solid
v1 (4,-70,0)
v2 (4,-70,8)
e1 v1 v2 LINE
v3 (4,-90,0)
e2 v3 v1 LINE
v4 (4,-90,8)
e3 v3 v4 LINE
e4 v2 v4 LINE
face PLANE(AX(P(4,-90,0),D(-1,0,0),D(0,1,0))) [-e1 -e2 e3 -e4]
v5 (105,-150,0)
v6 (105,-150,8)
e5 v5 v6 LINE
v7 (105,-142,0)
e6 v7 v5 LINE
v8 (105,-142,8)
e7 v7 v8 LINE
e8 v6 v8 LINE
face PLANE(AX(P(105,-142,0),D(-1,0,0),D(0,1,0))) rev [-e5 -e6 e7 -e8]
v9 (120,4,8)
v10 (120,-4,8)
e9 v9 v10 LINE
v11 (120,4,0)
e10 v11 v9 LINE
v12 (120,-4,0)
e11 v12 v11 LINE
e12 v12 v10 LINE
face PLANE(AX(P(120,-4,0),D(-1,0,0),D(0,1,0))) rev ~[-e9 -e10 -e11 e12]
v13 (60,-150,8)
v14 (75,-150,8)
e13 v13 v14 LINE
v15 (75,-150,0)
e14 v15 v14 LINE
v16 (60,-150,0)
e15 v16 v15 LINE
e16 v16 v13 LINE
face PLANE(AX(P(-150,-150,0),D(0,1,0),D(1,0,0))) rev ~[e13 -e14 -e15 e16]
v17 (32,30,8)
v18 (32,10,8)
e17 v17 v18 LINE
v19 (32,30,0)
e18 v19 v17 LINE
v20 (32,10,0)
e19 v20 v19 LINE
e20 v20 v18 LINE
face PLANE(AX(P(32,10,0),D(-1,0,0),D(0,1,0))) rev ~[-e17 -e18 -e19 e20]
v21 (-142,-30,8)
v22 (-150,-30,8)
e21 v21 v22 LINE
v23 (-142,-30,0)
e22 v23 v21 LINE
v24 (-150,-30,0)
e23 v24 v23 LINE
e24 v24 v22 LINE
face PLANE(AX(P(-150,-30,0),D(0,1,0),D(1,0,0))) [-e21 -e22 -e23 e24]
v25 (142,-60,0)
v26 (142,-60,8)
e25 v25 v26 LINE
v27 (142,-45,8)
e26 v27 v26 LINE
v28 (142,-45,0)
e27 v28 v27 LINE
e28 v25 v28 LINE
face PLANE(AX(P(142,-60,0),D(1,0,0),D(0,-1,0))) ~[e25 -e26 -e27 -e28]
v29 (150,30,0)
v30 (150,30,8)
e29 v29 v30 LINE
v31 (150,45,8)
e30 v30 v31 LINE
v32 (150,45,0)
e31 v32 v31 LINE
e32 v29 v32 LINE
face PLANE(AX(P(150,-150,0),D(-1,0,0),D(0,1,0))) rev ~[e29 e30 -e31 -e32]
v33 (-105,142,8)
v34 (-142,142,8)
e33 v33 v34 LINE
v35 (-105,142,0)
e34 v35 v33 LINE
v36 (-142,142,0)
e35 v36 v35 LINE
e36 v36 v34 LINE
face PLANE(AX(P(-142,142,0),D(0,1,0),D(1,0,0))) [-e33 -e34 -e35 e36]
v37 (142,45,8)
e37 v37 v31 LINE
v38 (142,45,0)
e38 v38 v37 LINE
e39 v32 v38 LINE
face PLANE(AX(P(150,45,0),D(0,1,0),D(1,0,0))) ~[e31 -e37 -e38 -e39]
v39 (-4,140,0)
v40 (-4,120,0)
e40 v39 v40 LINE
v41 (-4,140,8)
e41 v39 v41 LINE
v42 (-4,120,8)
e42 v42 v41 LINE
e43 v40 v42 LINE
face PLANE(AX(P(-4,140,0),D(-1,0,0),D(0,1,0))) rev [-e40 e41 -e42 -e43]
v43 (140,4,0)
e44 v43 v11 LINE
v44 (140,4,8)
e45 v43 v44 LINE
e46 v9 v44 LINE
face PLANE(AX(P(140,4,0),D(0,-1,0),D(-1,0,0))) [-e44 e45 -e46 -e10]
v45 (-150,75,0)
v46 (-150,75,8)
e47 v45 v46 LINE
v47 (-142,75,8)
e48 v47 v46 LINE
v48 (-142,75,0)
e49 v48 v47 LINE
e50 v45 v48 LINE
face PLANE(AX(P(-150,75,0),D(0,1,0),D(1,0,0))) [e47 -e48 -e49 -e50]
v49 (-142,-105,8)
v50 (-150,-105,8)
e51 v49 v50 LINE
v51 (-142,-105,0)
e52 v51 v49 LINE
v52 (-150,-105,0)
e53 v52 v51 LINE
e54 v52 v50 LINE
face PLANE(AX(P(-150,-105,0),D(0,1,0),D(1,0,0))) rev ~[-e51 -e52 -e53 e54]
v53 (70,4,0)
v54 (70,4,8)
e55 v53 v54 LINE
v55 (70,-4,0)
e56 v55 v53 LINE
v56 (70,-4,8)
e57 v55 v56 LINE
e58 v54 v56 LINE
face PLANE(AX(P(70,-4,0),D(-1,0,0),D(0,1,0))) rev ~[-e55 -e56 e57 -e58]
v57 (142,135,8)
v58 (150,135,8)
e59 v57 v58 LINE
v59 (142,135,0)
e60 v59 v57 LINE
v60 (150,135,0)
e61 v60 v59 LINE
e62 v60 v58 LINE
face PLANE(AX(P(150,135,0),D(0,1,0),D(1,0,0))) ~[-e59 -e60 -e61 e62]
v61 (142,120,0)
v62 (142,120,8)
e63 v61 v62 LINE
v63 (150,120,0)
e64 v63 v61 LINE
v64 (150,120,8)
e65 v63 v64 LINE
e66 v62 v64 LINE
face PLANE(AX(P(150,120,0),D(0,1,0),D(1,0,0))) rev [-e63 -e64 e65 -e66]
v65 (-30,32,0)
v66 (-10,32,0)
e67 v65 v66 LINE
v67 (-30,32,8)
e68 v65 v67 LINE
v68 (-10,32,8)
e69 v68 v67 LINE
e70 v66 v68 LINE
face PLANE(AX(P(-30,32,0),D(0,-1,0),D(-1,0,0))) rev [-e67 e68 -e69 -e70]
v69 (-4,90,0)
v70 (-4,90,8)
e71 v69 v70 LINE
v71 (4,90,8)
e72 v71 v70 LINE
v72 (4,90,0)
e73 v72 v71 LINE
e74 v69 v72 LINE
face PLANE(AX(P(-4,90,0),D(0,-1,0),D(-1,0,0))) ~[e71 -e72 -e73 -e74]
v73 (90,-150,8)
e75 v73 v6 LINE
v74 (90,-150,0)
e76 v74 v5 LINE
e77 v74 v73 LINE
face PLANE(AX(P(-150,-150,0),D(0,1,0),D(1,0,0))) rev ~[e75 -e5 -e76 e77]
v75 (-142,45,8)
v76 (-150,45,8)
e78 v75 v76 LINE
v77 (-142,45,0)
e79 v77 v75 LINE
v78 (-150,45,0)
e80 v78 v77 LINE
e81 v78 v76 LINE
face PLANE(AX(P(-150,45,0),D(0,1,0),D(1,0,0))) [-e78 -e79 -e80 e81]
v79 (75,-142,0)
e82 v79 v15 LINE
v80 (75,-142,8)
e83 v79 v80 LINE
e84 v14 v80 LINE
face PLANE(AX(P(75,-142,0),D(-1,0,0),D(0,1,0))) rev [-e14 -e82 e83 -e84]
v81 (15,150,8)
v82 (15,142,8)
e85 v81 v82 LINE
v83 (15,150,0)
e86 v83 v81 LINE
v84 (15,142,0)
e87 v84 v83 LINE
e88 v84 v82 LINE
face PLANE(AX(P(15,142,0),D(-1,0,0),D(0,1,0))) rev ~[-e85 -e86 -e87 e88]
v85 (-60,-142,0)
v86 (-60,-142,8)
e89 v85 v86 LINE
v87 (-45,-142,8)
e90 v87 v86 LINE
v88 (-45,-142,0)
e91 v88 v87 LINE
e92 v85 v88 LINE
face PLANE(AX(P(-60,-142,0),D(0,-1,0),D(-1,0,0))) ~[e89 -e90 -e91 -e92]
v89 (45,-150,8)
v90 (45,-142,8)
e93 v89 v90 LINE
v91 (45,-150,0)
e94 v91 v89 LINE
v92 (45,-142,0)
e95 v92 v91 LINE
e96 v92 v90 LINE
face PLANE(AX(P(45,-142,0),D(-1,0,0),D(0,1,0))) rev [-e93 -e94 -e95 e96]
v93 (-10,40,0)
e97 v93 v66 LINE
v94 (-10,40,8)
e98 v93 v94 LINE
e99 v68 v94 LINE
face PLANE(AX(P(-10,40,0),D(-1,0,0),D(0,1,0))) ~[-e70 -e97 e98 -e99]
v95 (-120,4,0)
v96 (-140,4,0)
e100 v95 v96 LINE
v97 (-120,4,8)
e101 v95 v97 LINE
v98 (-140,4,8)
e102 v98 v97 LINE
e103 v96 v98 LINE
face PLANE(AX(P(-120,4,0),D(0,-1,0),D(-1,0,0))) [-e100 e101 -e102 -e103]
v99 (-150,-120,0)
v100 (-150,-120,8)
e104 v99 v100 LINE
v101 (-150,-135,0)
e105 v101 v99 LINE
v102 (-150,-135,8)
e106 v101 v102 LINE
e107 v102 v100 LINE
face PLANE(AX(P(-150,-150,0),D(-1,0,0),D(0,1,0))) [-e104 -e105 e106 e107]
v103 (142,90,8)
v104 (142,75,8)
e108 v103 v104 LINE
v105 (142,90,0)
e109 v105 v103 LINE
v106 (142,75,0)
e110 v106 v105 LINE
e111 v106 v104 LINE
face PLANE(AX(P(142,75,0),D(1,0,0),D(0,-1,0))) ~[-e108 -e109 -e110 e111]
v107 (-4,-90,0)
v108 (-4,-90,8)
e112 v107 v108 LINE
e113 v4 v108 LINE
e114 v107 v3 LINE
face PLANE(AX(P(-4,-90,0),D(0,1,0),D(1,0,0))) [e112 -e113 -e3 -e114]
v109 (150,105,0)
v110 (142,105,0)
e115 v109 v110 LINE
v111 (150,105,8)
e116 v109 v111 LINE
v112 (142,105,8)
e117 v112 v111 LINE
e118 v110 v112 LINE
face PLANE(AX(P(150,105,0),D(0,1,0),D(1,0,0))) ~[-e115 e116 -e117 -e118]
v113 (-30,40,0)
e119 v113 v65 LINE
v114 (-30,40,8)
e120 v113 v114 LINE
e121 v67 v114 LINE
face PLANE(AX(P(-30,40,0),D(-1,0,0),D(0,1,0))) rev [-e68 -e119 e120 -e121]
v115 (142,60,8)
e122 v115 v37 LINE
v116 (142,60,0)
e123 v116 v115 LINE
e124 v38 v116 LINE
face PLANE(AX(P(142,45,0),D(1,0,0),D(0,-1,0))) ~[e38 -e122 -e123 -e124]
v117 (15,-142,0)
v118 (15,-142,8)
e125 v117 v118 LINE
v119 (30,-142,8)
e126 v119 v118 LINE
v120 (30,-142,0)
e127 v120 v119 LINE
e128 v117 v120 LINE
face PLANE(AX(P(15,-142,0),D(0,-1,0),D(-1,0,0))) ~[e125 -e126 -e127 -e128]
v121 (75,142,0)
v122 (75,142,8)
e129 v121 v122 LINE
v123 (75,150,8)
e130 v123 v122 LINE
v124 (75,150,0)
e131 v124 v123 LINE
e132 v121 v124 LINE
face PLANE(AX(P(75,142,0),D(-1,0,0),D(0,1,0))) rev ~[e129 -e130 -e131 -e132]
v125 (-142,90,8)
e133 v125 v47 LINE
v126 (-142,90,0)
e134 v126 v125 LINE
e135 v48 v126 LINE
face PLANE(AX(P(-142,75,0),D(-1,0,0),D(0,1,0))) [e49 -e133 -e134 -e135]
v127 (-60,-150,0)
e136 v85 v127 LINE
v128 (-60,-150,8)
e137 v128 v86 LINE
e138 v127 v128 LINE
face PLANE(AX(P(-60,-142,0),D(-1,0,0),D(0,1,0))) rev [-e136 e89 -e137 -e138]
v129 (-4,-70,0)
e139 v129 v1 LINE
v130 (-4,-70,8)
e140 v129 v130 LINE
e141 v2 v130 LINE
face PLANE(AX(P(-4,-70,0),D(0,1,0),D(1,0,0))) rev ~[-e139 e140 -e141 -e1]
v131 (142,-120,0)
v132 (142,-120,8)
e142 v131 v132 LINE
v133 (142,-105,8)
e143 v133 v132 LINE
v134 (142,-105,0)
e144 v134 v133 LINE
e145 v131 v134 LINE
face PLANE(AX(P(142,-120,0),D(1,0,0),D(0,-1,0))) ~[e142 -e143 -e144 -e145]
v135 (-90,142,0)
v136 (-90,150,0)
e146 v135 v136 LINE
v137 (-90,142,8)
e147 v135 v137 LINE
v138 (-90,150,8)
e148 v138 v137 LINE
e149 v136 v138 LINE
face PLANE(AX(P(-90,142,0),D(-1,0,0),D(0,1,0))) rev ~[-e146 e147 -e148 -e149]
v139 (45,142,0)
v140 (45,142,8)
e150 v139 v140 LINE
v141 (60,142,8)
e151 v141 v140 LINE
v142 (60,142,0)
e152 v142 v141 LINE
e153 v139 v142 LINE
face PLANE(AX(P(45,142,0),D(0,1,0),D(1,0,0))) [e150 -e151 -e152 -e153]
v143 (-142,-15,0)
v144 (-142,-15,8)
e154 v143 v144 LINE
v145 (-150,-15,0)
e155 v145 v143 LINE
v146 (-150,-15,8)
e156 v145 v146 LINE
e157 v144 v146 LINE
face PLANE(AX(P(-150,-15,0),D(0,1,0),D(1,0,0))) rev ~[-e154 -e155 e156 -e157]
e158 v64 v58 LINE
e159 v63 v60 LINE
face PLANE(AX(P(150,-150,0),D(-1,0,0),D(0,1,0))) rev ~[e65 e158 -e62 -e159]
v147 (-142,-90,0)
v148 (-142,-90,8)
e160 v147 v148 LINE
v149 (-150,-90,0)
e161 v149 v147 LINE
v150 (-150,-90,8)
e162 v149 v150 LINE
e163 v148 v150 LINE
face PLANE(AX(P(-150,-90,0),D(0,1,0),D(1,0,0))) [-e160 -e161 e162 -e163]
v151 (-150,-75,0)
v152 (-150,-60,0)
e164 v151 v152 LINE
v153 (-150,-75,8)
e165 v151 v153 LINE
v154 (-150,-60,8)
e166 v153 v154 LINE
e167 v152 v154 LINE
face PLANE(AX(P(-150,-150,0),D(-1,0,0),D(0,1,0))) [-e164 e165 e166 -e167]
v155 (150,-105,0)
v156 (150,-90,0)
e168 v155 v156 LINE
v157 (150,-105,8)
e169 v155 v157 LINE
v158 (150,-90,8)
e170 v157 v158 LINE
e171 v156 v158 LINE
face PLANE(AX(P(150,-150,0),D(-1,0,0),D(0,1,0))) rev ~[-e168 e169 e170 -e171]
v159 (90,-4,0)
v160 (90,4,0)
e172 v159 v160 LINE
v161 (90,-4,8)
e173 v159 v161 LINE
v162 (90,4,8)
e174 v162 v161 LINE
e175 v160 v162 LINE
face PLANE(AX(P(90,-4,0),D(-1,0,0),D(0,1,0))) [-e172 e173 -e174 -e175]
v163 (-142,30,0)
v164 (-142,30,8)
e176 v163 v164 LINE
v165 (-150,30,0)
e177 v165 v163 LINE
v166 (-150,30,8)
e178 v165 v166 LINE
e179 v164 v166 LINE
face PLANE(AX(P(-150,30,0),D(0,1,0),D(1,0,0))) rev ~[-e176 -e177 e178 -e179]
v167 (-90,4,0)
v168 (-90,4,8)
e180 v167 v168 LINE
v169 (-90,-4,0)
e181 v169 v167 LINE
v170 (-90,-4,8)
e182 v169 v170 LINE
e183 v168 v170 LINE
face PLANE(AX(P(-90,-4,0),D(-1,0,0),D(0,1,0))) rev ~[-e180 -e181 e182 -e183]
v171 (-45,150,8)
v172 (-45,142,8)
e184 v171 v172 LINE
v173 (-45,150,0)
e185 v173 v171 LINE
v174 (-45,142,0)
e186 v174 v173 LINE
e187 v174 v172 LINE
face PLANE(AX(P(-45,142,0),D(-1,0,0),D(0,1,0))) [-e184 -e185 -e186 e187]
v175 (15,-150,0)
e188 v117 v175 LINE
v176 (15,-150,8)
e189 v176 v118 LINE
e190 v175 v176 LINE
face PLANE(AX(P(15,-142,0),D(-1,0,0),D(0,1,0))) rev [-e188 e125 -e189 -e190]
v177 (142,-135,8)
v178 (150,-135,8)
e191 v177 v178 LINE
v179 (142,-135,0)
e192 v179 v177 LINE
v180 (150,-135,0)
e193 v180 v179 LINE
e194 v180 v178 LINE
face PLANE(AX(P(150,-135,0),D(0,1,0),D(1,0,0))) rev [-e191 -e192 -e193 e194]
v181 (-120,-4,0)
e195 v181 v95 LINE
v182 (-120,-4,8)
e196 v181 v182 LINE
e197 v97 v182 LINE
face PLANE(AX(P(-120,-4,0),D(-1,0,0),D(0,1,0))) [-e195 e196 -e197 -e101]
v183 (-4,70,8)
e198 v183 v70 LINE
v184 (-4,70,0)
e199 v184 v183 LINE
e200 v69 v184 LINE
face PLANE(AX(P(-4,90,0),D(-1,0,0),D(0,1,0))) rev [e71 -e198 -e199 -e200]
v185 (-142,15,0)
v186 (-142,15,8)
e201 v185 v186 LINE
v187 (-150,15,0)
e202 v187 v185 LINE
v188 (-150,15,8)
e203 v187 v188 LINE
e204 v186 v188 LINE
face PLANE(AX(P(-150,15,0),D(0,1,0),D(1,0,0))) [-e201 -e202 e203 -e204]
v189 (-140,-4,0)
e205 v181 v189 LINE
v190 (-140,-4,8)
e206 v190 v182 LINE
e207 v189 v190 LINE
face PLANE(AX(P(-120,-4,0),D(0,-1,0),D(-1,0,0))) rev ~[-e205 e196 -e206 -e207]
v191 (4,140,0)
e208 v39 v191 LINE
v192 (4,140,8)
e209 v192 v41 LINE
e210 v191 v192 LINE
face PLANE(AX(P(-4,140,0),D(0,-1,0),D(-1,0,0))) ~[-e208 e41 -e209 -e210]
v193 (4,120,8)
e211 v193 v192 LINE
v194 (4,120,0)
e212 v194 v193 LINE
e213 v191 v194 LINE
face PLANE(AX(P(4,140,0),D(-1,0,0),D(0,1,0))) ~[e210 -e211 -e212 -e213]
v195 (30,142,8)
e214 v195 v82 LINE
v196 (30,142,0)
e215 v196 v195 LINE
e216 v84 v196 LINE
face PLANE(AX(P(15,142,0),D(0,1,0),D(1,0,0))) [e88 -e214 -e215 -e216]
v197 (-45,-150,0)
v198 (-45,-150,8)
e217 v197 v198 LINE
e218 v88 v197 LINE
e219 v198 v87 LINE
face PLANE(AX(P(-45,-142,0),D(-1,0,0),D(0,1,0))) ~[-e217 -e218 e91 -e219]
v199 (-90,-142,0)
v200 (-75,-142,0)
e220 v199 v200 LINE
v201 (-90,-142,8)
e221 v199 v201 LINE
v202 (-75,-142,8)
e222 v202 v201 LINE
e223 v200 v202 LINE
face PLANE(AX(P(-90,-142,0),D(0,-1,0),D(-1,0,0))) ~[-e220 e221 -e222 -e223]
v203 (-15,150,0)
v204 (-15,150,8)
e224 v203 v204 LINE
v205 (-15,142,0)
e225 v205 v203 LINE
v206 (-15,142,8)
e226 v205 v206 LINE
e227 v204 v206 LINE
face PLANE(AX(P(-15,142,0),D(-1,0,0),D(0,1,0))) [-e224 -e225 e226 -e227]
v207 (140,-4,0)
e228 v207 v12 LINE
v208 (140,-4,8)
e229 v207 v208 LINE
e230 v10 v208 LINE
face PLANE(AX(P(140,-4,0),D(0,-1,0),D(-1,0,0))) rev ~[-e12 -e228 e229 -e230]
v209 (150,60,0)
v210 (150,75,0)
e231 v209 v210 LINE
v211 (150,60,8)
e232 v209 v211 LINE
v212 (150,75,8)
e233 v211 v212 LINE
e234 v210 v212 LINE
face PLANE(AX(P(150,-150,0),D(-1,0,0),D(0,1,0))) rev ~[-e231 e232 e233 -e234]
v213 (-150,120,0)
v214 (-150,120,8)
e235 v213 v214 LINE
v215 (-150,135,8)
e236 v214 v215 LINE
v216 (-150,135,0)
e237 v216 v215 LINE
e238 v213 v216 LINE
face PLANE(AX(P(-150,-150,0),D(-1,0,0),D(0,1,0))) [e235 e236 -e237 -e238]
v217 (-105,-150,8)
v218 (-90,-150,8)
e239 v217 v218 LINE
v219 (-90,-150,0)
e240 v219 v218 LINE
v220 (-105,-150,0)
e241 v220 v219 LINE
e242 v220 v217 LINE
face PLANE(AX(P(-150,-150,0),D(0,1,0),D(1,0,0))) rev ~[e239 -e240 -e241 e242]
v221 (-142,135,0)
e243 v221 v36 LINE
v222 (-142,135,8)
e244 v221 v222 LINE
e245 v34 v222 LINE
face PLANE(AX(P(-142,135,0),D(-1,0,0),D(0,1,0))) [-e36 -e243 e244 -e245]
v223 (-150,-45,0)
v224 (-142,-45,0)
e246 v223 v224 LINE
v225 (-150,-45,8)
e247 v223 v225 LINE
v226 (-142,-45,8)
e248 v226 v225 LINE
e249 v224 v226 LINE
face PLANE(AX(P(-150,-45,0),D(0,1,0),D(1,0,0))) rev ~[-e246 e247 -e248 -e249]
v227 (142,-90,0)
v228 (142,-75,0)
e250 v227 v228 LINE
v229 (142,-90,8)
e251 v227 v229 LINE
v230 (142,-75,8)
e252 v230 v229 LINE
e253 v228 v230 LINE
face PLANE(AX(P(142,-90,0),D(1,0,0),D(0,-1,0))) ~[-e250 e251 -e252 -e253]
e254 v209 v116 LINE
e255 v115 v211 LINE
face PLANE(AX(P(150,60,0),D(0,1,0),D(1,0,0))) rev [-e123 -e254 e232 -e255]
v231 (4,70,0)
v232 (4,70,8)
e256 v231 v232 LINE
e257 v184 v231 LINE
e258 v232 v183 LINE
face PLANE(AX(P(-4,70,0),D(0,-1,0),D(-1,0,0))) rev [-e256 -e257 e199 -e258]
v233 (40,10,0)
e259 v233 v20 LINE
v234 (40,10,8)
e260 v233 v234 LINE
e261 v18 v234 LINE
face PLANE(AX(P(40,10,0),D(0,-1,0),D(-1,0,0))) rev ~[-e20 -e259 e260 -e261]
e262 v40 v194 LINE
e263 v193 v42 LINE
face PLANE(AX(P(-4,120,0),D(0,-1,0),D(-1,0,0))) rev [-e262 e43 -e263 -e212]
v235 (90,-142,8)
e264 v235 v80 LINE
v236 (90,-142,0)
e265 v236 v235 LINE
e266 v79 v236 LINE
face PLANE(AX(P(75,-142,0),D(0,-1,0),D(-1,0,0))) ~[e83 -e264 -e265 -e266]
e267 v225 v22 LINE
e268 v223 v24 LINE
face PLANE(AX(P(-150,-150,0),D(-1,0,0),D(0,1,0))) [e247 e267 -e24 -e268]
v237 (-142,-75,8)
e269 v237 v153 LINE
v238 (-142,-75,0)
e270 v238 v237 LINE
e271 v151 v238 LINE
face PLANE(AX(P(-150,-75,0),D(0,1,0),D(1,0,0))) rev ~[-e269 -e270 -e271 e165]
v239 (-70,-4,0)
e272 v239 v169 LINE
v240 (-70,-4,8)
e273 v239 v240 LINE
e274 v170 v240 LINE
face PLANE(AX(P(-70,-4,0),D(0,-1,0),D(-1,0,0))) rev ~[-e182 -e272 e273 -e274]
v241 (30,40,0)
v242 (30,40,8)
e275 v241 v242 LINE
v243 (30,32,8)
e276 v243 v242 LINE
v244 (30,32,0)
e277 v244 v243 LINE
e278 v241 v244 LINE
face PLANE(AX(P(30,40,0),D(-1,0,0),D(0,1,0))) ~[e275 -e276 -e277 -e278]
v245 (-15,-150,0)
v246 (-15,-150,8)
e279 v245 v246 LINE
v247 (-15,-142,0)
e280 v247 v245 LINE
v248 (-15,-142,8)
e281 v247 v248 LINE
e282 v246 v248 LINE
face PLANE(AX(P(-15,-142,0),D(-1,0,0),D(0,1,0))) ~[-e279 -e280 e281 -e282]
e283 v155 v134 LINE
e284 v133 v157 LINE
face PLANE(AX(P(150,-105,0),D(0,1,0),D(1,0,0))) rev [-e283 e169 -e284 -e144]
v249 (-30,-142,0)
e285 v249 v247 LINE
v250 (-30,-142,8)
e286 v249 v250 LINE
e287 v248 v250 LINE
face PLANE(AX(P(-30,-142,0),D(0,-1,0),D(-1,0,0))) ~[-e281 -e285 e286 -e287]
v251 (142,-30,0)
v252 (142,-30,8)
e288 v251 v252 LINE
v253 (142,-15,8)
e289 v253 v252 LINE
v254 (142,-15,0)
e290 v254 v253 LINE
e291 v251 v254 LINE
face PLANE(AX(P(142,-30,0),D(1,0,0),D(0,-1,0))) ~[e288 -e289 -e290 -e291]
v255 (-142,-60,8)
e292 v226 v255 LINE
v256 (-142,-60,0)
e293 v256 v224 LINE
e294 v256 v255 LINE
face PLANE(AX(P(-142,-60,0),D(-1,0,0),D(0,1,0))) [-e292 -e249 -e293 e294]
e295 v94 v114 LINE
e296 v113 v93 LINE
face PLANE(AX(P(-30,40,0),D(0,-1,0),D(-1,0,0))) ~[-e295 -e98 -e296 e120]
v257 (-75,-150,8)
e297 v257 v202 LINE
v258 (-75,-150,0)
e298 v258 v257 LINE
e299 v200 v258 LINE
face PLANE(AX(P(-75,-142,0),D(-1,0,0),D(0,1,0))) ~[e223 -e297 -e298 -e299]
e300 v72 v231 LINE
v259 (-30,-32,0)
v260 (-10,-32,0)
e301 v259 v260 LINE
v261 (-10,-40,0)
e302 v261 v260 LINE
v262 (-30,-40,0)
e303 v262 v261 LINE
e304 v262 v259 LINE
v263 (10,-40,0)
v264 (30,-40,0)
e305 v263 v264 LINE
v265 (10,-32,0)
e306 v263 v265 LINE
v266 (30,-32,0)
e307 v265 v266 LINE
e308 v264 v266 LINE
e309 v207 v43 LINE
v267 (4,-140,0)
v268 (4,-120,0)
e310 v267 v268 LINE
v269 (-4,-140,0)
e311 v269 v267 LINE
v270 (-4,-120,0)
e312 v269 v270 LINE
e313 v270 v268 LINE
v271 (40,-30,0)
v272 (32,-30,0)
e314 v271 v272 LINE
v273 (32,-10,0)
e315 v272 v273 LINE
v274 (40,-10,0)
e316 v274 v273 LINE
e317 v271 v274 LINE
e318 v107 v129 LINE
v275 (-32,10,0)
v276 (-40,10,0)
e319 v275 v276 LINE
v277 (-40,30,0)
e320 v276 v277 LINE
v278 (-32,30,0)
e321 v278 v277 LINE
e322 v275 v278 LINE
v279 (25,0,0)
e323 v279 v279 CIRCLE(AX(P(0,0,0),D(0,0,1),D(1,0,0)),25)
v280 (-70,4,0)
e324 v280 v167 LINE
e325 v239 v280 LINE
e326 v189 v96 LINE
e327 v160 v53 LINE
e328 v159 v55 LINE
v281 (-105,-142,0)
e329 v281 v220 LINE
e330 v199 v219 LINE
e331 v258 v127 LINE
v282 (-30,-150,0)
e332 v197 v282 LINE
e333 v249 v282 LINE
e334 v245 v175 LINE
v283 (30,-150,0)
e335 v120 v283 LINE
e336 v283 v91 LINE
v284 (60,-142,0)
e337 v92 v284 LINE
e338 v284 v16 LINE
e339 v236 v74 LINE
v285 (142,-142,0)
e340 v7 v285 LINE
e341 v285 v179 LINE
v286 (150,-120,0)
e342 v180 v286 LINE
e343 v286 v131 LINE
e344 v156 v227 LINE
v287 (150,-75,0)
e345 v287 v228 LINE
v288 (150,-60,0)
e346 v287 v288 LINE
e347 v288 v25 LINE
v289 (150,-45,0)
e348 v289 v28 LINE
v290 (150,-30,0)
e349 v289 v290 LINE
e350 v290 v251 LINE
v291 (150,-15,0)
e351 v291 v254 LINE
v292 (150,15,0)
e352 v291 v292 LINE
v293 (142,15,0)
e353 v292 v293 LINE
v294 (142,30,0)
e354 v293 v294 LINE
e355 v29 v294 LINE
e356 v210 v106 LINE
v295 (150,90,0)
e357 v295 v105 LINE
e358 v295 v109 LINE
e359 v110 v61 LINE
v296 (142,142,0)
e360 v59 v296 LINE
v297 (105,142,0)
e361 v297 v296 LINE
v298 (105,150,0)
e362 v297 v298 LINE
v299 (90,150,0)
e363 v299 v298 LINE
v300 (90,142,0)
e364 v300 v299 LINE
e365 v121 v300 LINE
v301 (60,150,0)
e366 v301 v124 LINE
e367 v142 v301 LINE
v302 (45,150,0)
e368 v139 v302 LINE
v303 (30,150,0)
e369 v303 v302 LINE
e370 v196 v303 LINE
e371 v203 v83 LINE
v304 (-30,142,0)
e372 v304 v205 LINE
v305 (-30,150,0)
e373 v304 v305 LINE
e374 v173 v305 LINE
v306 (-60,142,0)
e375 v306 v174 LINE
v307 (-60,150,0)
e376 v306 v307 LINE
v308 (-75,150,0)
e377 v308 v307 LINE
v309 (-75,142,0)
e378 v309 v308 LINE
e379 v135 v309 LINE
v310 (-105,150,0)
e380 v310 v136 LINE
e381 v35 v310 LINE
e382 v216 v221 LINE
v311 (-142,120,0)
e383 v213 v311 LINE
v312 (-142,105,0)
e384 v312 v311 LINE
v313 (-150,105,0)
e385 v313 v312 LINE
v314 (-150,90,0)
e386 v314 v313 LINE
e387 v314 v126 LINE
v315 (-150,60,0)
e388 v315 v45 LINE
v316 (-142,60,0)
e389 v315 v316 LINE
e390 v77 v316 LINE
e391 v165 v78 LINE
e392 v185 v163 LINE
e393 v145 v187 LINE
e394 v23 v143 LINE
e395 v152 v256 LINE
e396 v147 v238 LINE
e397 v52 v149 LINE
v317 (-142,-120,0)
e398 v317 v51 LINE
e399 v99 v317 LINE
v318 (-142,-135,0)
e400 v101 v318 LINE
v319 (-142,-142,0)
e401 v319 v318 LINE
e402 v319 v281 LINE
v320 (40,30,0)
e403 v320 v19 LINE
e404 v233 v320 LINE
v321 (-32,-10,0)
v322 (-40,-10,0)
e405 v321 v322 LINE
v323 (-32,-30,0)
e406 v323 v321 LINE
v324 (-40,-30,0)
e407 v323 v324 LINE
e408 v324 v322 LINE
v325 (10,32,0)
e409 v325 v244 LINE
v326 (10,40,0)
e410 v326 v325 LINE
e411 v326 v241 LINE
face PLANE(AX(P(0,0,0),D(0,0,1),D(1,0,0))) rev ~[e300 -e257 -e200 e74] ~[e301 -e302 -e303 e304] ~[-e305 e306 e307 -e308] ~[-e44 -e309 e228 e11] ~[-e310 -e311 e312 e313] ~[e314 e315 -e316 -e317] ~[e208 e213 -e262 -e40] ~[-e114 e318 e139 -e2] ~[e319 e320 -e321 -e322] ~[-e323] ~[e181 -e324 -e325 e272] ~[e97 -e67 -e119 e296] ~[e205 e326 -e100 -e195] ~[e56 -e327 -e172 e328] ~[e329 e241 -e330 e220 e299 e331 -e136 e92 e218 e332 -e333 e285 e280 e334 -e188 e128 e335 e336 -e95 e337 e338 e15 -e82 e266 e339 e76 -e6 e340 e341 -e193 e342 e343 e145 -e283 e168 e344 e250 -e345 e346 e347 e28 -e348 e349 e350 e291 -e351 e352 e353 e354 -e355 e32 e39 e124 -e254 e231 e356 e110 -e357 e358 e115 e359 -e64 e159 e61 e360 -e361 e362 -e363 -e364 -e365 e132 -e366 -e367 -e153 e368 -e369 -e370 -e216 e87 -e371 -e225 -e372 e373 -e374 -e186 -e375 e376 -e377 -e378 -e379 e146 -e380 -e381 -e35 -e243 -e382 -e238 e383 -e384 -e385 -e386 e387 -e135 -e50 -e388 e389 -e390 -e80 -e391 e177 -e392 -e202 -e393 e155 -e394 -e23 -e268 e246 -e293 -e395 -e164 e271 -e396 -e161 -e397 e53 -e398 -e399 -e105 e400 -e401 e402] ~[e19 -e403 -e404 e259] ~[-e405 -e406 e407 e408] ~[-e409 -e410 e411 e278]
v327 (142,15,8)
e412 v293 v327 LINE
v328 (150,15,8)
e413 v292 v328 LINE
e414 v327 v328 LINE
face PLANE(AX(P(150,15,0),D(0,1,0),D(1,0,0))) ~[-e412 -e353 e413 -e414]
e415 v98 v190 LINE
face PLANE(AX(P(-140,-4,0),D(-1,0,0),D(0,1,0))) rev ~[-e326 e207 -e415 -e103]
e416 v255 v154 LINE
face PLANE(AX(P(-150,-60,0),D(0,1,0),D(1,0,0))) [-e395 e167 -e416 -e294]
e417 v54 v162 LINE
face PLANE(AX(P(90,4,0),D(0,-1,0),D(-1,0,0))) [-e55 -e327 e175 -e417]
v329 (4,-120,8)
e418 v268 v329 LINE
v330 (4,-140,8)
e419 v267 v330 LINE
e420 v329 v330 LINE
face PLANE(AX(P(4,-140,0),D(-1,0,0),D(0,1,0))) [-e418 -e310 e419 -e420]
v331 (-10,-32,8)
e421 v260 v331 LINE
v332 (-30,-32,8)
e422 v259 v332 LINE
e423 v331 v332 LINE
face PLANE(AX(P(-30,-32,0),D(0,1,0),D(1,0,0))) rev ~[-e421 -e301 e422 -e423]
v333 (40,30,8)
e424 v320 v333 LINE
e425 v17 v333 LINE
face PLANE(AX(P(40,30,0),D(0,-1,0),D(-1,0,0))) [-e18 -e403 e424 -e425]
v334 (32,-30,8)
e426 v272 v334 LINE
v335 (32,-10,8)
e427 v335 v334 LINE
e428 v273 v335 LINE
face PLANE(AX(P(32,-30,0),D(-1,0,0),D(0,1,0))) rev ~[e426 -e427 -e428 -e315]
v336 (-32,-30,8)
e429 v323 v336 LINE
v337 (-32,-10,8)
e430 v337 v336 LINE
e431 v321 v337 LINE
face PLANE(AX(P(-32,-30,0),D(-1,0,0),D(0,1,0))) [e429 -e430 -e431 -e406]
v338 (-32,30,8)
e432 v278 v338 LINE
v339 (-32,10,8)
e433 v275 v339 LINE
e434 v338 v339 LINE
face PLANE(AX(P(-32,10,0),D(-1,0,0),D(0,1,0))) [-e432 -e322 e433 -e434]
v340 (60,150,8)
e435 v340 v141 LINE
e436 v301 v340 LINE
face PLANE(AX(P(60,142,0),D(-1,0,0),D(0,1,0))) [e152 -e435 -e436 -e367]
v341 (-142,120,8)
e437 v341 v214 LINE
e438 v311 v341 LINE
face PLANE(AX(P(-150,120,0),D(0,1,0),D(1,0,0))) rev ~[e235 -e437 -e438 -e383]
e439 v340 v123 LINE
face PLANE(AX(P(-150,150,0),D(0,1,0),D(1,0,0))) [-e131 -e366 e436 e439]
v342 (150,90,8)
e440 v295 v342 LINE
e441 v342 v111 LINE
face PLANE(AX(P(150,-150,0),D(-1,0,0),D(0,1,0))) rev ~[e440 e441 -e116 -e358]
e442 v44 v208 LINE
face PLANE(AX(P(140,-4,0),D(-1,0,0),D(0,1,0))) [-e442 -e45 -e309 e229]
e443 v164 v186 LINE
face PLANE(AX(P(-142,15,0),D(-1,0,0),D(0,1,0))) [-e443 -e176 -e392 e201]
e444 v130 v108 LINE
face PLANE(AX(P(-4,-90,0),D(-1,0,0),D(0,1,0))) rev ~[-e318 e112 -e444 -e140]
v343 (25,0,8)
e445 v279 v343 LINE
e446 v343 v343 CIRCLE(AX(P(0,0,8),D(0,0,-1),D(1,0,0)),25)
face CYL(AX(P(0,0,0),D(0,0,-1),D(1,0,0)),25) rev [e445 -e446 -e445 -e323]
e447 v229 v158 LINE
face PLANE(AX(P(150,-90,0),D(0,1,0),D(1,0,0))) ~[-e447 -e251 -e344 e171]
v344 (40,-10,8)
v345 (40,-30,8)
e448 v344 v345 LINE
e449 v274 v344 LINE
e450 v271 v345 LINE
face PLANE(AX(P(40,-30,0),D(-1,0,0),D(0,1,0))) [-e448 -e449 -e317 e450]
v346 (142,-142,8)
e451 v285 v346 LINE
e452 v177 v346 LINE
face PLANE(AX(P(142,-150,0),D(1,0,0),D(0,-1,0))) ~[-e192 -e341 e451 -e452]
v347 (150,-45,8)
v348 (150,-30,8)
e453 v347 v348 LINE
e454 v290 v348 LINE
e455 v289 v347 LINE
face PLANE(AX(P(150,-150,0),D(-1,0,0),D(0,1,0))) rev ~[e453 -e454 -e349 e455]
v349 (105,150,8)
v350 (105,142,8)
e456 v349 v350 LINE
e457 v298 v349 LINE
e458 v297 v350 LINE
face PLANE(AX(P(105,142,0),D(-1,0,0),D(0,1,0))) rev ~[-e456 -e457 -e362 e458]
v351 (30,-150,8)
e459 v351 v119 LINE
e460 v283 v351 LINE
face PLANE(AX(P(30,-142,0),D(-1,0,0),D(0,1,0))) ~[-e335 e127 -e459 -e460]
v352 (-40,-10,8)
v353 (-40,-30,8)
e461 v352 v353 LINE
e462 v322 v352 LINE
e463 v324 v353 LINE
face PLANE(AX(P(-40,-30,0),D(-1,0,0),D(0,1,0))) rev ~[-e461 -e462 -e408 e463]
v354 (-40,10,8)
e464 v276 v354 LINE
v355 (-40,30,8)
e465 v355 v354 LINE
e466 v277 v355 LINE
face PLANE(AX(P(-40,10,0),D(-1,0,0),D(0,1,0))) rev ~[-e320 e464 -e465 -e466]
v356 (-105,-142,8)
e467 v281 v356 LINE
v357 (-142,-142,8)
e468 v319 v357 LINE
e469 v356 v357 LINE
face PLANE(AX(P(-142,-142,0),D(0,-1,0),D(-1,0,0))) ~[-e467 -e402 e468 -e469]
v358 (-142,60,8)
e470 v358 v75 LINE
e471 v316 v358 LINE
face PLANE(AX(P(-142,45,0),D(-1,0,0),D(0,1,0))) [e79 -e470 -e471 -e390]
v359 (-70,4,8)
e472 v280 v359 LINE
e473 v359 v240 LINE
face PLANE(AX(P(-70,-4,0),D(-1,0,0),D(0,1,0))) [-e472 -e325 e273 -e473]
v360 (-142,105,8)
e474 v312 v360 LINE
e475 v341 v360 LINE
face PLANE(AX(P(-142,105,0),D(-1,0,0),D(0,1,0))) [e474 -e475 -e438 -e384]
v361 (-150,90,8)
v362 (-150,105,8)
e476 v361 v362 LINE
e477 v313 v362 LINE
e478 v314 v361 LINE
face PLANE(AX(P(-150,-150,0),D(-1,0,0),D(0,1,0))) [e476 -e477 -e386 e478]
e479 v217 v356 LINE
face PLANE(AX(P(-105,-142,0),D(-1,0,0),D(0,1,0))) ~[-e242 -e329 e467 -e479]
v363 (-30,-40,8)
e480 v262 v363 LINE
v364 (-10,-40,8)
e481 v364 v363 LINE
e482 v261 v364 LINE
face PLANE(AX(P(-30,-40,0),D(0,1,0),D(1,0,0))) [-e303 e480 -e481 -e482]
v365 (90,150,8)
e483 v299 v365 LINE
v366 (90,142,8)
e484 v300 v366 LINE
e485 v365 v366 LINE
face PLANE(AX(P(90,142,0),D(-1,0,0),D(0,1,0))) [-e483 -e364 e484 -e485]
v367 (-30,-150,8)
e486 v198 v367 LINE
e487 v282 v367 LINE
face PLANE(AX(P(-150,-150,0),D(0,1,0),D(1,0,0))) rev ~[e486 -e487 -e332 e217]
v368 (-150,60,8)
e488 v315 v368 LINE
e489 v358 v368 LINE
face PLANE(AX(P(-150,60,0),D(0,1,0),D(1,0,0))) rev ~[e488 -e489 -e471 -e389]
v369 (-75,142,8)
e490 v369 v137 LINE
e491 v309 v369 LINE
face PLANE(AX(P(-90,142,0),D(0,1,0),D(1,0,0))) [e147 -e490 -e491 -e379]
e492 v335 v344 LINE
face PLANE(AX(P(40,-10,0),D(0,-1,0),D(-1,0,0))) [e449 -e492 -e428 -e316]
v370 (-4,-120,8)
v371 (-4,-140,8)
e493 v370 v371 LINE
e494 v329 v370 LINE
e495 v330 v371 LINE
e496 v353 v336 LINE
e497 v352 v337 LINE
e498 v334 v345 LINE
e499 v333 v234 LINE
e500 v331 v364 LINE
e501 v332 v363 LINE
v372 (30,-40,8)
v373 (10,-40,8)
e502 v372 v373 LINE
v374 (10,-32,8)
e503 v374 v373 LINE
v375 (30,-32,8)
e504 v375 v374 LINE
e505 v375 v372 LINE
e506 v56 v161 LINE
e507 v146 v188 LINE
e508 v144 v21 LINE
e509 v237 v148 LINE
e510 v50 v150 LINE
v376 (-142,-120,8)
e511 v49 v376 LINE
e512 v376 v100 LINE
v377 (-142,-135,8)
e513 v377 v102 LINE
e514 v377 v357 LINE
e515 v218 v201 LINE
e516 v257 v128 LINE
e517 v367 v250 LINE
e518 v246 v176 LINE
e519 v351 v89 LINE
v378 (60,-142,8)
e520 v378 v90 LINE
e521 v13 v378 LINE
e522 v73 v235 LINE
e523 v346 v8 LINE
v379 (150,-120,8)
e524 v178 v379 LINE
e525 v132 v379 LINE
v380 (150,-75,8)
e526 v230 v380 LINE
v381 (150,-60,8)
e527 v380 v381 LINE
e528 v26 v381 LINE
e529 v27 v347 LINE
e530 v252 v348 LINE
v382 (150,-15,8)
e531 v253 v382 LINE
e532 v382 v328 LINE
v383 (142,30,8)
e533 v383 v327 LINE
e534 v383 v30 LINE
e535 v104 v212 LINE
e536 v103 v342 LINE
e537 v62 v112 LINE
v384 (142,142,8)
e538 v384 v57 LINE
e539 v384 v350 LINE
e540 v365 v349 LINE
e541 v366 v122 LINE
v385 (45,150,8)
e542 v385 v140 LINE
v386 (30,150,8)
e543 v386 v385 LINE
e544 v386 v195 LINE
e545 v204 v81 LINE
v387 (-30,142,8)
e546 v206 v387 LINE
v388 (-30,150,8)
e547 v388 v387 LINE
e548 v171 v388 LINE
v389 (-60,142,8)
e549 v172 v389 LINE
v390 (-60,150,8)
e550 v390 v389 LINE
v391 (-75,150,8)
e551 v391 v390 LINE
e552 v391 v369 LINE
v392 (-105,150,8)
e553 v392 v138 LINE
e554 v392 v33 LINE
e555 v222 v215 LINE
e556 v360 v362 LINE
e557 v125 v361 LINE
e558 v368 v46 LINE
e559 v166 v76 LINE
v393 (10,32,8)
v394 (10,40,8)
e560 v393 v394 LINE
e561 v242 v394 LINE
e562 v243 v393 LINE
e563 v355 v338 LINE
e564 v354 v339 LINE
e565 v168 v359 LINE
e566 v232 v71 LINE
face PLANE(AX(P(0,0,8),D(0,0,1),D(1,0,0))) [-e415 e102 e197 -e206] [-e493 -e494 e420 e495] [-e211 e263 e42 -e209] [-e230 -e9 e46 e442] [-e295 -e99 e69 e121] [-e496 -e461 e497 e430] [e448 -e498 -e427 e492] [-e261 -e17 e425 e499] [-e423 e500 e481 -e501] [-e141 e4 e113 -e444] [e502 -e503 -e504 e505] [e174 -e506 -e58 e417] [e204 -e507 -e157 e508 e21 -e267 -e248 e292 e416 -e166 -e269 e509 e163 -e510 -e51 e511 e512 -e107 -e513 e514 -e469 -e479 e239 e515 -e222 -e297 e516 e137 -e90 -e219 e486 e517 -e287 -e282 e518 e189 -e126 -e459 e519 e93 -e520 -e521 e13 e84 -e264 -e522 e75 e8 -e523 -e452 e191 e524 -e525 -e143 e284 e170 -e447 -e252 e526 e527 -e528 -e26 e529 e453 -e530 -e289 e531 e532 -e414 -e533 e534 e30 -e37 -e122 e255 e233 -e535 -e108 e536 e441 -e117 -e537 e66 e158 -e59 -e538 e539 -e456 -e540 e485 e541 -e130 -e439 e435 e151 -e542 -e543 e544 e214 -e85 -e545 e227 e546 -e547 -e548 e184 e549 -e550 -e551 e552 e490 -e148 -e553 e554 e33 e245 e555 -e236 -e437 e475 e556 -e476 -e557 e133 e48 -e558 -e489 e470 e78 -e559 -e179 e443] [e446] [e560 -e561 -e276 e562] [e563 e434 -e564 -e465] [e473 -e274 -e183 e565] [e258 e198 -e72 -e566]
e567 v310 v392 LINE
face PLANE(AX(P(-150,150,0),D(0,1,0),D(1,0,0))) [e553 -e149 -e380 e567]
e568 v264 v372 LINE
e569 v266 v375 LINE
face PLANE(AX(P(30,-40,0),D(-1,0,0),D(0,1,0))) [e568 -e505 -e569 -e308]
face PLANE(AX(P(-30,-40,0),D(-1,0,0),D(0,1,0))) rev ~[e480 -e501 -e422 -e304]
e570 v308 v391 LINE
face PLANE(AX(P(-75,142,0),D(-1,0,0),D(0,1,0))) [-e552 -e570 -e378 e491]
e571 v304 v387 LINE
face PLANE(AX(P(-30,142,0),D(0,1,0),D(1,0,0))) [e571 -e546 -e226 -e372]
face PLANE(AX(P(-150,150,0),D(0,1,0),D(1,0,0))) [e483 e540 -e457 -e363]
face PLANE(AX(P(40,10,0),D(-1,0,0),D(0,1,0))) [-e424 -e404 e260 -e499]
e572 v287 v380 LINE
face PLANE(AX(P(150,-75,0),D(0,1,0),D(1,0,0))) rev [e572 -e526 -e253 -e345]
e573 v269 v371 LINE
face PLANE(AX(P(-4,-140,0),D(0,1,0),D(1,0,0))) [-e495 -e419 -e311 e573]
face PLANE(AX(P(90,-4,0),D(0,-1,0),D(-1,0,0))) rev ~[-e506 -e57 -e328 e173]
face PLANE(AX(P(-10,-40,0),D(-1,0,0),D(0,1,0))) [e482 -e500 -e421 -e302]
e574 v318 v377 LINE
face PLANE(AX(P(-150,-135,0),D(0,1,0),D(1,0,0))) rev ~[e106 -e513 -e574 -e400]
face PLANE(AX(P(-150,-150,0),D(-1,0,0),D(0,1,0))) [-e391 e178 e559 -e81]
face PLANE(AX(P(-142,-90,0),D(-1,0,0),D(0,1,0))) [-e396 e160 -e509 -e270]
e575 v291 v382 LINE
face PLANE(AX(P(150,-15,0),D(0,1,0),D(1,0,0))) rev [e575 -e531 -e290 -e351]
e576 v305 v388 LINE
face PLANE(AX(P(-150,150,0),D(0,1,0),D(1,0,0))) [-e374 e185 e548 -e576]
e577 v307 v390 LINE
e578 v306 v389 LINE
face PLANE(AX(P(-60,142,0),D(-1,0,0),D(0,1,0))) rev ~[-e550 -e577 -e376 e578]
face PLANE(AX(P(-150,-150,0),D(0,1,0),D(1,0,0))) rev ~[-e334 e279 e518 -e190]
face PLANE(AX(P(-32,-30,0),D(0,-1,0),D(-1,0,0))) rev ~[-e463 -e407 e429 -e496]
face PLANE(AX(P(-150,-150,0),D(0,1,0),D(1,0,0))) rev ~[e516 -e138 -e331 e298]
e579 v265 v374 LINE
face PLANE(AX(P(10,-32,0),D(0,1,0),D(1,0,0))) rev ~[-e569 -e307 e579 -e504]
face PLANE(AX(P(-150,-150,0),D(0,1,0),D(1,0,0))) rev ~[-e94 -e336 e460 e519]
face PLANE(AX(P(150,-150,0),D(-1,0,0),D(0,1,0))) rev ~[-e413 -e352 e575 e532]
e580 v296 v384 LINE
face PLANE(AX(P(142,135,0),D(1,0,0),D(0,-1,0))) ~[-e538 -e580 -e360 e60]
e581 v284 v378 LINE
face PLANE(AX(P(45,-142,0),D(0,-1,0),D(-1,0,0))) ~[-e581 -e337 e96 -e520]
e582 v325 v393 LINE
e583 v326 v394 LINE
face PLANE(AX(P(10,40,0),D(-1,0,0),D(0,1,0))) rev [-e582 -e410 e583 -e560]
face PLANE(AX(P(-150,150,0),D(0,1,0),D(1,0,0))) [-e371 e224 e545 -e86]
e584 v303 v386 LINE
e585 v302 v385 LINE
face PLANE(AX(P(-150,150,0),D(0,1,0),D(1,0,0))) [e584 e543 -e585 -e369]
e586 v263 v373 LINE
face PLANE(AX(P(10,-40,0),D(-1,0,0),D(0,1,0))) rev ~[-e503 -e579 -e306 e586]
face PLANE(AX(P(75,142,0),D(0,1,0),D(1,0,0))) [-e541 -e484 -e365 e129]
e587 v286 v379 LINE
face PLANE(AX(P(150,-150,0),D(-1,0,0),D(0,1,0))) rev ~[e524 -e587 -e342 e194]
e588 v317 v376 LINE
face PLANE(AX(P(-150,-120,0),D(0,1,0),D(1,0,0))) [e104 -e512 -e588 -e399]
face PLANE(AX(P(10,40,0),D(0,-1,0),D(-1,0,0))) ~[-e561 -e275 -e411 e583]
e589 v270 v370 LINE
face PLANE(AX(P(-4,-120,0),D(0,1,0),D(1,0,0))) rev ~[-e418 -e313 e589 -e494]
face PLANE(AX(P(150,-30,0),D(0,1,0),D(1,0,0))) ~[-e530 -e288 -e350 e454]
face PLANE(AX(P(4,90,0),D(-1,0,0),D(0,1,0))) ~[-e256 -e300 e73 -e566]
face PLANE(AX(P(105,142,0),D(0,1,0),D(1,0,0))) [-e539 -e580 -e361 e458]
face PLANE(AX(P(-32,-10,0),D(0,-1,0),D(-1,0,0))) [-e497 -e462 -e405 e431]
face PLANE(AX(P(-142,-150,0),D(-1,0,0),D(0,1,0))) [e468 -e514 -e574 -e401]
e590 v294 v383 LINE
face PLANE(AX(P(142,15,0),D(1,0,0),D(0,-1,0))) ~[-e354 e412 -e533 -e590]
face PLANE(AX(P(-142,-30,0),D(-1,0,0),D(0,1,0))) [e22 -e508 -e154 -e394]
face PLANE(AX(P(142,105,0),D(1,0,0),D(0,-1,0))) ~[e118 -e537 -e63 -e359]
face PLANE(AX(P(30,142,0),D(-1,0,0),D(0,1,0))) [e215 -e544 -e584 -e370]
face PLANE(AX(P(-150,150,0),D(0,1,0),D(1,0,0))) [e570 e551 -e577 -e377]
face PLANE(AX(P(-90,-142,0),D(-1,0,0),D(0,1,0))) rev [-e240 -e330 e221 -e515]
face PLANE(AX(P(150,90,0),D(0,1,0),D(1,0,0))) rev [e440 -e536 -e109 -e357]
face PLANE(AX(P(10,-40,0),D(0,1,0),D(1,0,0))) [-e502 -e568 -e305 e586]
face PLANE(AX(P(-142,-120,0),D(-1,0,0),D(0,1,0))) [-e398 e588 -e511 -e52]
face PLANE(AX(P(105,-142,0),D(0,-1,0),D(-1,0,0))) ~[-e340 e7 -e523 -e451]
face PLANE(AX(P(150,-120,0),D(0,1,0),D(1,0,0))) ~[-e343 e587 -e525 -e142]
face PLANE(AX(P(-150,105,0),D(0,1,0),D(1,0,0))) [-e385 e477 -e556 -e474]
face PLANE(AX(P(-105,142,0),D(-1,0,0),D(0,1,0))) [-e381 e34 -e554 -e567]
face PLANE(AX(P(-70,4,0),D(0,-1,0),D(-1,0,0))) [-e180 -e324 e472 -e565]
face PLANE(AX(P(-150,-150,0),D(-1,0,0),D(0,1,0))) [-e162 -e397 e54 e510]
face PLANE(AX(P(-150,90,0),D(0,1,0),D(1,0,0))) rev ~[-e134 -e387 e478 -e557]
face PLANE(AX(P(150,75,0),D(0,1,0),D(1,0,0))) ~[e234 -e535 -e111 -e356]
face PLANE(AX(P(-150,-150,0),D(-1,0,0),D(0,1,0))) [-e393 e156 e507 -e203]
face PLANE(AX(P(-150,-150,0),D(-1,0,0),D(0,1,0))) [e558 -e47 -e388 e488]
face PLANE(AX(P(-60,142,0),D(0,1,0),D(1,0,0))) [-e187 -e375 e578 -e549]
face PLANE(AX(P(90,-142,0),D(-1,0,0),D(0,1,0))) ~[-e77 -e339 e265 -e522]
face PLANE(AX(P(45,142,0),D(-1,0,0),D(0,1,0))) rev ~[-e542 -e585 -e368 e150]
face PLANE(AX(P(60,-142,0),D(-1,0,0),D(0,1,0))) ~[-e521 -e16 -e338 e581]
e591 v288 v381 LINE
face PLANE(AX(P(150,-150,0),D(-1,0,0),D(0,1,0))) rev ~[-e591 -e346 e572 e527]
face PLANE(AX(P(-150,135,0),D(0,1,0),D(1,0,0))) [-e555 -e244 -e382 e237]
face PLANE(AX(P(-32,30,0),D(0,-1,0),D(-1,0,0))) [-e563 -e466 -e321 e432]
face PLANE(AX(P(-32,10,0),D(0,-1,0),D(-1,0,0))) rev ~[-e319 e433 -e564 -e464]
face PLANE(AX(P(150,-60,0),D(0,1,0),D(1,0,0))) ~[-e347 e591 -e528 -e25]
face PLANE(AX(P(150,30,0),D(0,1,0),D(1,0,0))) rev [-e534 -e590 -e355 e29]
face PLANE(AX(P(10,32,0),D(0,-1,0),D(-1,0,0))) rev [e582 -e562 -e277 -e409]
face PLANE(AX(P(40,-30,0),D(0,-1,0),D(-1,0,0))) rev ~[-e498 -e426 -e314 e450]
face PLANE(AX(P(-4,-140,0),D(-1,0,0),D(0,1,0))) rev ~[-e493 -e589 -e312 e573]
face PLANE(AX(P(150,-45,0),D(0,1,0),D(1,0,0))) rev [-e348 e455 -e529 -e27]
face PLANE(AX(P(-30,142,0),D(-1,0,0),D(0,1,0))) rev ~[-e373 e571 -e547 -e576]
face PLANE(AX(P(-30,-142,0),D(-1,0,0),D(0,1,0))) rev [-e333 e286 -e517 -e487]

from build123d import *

# Parameters (mm, degrees)
ESQUISSE1_W                  = 300
ESQUISSE1_H                  = 300
BOSS_EXTRU_1_DEPTH           = 8
ESQUISSE3_W                  = 8
ESQUISSE3_H                  = 15
ENL_V_MAT_EXTRU_4_DEPTH      = 213.282830205
ESQUISSE4_R                  = 25
ENL_V_MAT_EXTRU_5_DEPTH      = 213.282830205
ESQUISSE5_W                  = 15
ESQUISSE5_H                  = 8
ESQUISSE5_W_2                = 37
ENL_V_MAT_EXTRU_6_DEPTH      = 213.282830205
ESQUISSE6_W                  = 20
ESQUISSE6_H                  = 8
ENL_V_MAT_EXTRU_7_DEPTH      = 213.282830205
R_P_TITION_CIRCULAIRE1_COUNT = 2
R_P_TITION_CIRCULAIRE1_ANGLE = 90
SYM_TRIE4_COPY_1_SKETCH_W    = 20
SYM_TRIE4_COPY_1_SKETCH_H    = 8
SYM_TRIE4_COPY_1_DEPTH       = 213.282830205
SYM_TRIE4_COPY_2_SKETCH_W    = 20
SYM_TRIE4_COPY_2_SKETCH_H    = 8
SYM_TRIE4_COPY_2_DEPTH       = 213.282830205
ESQUISSE7_W                  = 8
ESQUISSE7_H                  = 20
ENL_V_MAT_EXTRU_8_DEPTH      = 213.282830205
R_P_TITION_CIRCULAIRE2_COUNT = 2
R_P_TITION_CIRCULAIRE2_ANGLE = 90
SYM_TRIE6_COPY_1_SKETCH_W    = 8
SYM_TRIE6_COPY_1_SKETCH_H    = 20
SYM_TRIE6_COPY_1_DEPTH       = 213.282830205
SYM_TRIE6_COPY_2_SKETCH_W    = 8
SYM_TRIE6_COPY_2_SKETCH_H    = 20
SYM_TRIE6_COPY_2_DEPTH       = 213.282830205


with BuildPart() as part:
    # Esquisse1 → Boss.-Extru.1 (new body)
    with BuildSketch(Plane.XY):
        Rectangle(ESQUISSE1_W, ESQUISSE1_H)
    extrude(amount=BOSS_EXTRU_1_DEPTH)

    # Esquisse3 → Enlèv. mat.-Extru.4 (cut, through all)
    with BuildSketch(Plane.XY):
        with Locations((-146, -22.5)):
            Rectangle(ESQUISSE3_W, ESQUISSE3_H)
        with Locations((-146, -52.5)):
            Rectangle(ESQUISSE3_W, ESQUISSE3_H)
        with Locations((-146, -82.5)):
            Rectangle(ESQUISSE3_W, ESQUISSE3_H)
        with Locations((-146, -112.5)):
            Rectangle(ESQUISSE3_W, ESQUISSE3_H)
        with Locations((-146, -142.5)):
            Rectangle(ESQUISSE3_W, ESQUISSE3_H)
        with Locations((-146, 52.5)):
            Rectangle(ESQUISSE3_W, ESQUISSE3_H)
        with Locations((-146, 142.5)):
            Rectangle(ESQUISSE3_W, ESQUISSE3_H)
        with Locations((-146, 112.5)):
            Rectangle(ESQUISSE3_W, ESQUISSE3_H)
        with Locations((-146, 82.5)):
            Rectangle(ESQUISSE3_W, ESQUISSE3_H)
        with Locations((-146, 22.5)):
            Rectangle(ESQUISSE3_W, ESQUISSE3_H)
    enl_v_mat_extru_4 = extrude(amount=ENL_V_MAT_EXTRU_4_DEPTH, mode=Mode.SUBTRACT)

    # Symétrie1: Enlèv. mat.-Extru.4 across plane
    add(enl_v_mat_extru_4.mirror(Plane(origin=(0, 0, 0), x_dir=(0, 0, 1), z_dir=(1, 0, 0))), mode=Mode.SUBTRACT)

    # Esquisse4 → Enlèv. mat.-Extru.5 (cut, through all)
    with BuildSketch(Plane.XY):
        Circle(ESQUISSE4_R)
    extrude(amount=ENL_V_MAT_EXTRU_5_DEPTH, mode=Mode.SUBTRACT)

    # Esquisse5 → Enlèv. mat.-Extru.6 (cut, through all)
    with BuildSketch(Plane.XY):
        with Locations((22.5, 146)):
            Rectangle(ESQUISSE5_W, ESQUISSE5_H)
        with Locations((-22.5, 146)):
            Rectangle(ESQUISSE5_W, ESQUISSE5_H)
        with Locations((-52.5, 146)):
            Rectangle(ESQUISSE5_W, ESQUISSE5_H)
        with Locations((-82.5, 146)):
            Rectangle(ESQUISSE5_W, ESQUISSE5_H)
        with Locations((-123.5, 146)):
            Rectangle(ESQUISSE5_W_2, ESQUISSE5_H)
        with Locations((52.5, 146)):
            Rectangle(ESQUISSE5_W, ESQUISSE5_H)
        with Locations((82.5, 146)):
            Rectangle(ESQUISSE5_W, ESQUISSE5_H)
        with Locations((123.5, 146)):
            Rectangle(ESQUISSE5_W_2, ESQUISSE5_H)
    enl_v_mat_extru_6 = extrude(amount=ENL_V_MAT_EXTRU_6_DEPTH, mode=Mode.SUBTRACT)

    # Symétrie2: Enlèv. mat.-Extru.6 across plane
    add(enl_v_mat_extru_6.mirror(Plane.ZX), mode=Mode.SUBTRACT)

    # Esquisse6 → Enlèv. mat.-Extru.7 (cut, through all)
    with BuildSketch(Plane.XY):
        with Locations((-20, -36)):
            Rectangle(ESQUISSE6_W, ESQUISSE6_H)
        with Locations((20, -36)):
            Rectangle(ESQUISSE6_W, ESQUISSE6_H)
    enl_v_mat_extru_7 = extrude(amount=ENL_V_MAT_EXTRU_7_DEPTH, mode=Mode.SUBTRACT)

    # Symétrie3: Enlèv. mat.-Extru.7 across plane
    add(enl_v_mat_extru_7.mirror(Plane.ZX), mode=Mode.SUBTRACT)

    # Répétition circulaire1: Enlèv. mat.-Extru.7 ×2 about axis
    r_p_tition_circulaire1_axis = Axis((0, 0, 0), (0, 0, 1))
    for i in range(1, R_P_TITION_CIRCULAIRE1_COUNT):
        add(enl_v_mat_extru_7.rotate(r_p_tition_circulaire1_axis, i * R_P_TITION_CIRCULAIRE1_ANGLE / (R_P_TITION_CIRCULAIRE1_COUNT - 1)), mode=Mode.SUBTRACT)

    # Symétrie4 copy 1 sketch → Symétrie4 copy 1 (cut, through all)
    with BuildSketch(Plane(origin=(0, 0, 0), x_dir=(0, 1, 0), z_dir=(0, 0, 1))):
        with Locations((-20, 36)):
            Rectangle(SYM_TRIE4_COPY_1_SKETCH_W, SYM_TRIE4_COPY_1_SKETCH_H)
        with Locations((20, 36)):
            Rectangle(SYM_TRIE4_COPY_1_SKETCH_W, SYM_TRIE4_COPY_1_SKETCH_H)
    extrude(amount=SYM_TRIE4_COPY_1_DEPTH, mode=Mode.SUBTRACT)

    # Symétrie4 copy 2 sketch → Symétrie4 copy 2 (cut, through all)
    with BuildSketch(Plane(origin=(0, 0, 0), x_dir=(-1, 0, 0), z_dir=(0, 0, 1))):
        with Locations((-20, 36)):
            Rectangle(SYM_TRIE4_COPY_2_SKETCH_W, SYM_TRIE4_COPY_2_SKETCH_H)
        with Locations((20, 36)):
            Rectangle(SYM_TRIE4_COPY_2_SKETCH_W, SYM_TRIE4_COPY_2_SKETCH_H)
    extrude(amount=SYM_TRIE4_COPY_2_DEPTH, mode=Mode.SUBTRACT)

    # Esquisse7 → Enlèv. mat.-Extru.8 (cut, through all)
    with BuildSketch(Plane.XY):
        with Locations((0, -130)):
            Rectangle(ESQUISSE7_W, ESQUISSE7_H)
        with Locations((0, -80)):
            Rectangle(ESQUISSE7_W, ESQUISSE7_H)
    enl_v_mat_extru_8 = extrude(amount=ENL_V_MAT_EXTRU_8_DEPTH, mode=Mode.SUBTRACT)

    # Symétrie5: Enlèv. mat.-Extru.8 across plane
    add(enl_v_mat_extru_8.mirror(Plane.ZX), mode=Mode.SUBTRACT)

    # Répétition circulaire2: Enlèv. mat.-Extru.8 ×2 about axis
    r_p_tition_circulaire2_axis = Axis((0, 0, 0), (0, 0, 1))
    for i in range(1, R_P_TITION_CIRCULAIRE2_COUNT):
        add(enl_v_mat_extru_8.rotate(r_p_tition_circulaire2_axis, i * R_P_TITION_CIRCULAIRE2_ANGLE / (R_P_TITION_CIRCULAIRE2_COUNT - 1)), mode=Mode.SUBTRACT)

    # Symétrie6 copy 1 sketch → Symétrie6 copy 1 (cut, through all)
    with BuildSketch(Plane(origin=(0, 0, 0), x_dir=(0, 1, 0), z_dir=(0, 0, 1))):
        with Locations((0, 130)):
            Rectangle(SYM_TRIE6_COPY_1_SKETCH_W, SYM_TRIE6_COPY_1_SKETCH_H)
        with Locations((0, 80)):
            Rectangle(SYM_TRIE6_COPY_1_SKETCH_W, SYM_TRIE6_COPY_1_SKETCH_H)
    extrude(amount=SYM_TRIE6_COPY_1_DEPTH, mode=Mode.SUBTRACT)

    # Symétrie6 copy 2 sketch → Symétrie6 copy 2 (cut, through all)
    with BuildSketch(Plane(origin=(0, 0, 0), x_dir=(-1, 0, 0), z_dir=(0, 0, 1))):
        with Locations((0, 130)):
            Rectangle(SYM_TRIE6_COPY_2_SKETCH_W, SYM_TRIE6_COPY_2_SKETCH_H)
        with Locations((0, 80)):
            Rectangle(SYM_TRIE6_COPY_2_SKETCH_W, SYM_TRIE6_COPY_2_SKETCH_H)
    extrude(amount=SYM_TRIE6_COPY_2_DEPTH, mode=Mode.SUBTRACT)


solid = part.part
